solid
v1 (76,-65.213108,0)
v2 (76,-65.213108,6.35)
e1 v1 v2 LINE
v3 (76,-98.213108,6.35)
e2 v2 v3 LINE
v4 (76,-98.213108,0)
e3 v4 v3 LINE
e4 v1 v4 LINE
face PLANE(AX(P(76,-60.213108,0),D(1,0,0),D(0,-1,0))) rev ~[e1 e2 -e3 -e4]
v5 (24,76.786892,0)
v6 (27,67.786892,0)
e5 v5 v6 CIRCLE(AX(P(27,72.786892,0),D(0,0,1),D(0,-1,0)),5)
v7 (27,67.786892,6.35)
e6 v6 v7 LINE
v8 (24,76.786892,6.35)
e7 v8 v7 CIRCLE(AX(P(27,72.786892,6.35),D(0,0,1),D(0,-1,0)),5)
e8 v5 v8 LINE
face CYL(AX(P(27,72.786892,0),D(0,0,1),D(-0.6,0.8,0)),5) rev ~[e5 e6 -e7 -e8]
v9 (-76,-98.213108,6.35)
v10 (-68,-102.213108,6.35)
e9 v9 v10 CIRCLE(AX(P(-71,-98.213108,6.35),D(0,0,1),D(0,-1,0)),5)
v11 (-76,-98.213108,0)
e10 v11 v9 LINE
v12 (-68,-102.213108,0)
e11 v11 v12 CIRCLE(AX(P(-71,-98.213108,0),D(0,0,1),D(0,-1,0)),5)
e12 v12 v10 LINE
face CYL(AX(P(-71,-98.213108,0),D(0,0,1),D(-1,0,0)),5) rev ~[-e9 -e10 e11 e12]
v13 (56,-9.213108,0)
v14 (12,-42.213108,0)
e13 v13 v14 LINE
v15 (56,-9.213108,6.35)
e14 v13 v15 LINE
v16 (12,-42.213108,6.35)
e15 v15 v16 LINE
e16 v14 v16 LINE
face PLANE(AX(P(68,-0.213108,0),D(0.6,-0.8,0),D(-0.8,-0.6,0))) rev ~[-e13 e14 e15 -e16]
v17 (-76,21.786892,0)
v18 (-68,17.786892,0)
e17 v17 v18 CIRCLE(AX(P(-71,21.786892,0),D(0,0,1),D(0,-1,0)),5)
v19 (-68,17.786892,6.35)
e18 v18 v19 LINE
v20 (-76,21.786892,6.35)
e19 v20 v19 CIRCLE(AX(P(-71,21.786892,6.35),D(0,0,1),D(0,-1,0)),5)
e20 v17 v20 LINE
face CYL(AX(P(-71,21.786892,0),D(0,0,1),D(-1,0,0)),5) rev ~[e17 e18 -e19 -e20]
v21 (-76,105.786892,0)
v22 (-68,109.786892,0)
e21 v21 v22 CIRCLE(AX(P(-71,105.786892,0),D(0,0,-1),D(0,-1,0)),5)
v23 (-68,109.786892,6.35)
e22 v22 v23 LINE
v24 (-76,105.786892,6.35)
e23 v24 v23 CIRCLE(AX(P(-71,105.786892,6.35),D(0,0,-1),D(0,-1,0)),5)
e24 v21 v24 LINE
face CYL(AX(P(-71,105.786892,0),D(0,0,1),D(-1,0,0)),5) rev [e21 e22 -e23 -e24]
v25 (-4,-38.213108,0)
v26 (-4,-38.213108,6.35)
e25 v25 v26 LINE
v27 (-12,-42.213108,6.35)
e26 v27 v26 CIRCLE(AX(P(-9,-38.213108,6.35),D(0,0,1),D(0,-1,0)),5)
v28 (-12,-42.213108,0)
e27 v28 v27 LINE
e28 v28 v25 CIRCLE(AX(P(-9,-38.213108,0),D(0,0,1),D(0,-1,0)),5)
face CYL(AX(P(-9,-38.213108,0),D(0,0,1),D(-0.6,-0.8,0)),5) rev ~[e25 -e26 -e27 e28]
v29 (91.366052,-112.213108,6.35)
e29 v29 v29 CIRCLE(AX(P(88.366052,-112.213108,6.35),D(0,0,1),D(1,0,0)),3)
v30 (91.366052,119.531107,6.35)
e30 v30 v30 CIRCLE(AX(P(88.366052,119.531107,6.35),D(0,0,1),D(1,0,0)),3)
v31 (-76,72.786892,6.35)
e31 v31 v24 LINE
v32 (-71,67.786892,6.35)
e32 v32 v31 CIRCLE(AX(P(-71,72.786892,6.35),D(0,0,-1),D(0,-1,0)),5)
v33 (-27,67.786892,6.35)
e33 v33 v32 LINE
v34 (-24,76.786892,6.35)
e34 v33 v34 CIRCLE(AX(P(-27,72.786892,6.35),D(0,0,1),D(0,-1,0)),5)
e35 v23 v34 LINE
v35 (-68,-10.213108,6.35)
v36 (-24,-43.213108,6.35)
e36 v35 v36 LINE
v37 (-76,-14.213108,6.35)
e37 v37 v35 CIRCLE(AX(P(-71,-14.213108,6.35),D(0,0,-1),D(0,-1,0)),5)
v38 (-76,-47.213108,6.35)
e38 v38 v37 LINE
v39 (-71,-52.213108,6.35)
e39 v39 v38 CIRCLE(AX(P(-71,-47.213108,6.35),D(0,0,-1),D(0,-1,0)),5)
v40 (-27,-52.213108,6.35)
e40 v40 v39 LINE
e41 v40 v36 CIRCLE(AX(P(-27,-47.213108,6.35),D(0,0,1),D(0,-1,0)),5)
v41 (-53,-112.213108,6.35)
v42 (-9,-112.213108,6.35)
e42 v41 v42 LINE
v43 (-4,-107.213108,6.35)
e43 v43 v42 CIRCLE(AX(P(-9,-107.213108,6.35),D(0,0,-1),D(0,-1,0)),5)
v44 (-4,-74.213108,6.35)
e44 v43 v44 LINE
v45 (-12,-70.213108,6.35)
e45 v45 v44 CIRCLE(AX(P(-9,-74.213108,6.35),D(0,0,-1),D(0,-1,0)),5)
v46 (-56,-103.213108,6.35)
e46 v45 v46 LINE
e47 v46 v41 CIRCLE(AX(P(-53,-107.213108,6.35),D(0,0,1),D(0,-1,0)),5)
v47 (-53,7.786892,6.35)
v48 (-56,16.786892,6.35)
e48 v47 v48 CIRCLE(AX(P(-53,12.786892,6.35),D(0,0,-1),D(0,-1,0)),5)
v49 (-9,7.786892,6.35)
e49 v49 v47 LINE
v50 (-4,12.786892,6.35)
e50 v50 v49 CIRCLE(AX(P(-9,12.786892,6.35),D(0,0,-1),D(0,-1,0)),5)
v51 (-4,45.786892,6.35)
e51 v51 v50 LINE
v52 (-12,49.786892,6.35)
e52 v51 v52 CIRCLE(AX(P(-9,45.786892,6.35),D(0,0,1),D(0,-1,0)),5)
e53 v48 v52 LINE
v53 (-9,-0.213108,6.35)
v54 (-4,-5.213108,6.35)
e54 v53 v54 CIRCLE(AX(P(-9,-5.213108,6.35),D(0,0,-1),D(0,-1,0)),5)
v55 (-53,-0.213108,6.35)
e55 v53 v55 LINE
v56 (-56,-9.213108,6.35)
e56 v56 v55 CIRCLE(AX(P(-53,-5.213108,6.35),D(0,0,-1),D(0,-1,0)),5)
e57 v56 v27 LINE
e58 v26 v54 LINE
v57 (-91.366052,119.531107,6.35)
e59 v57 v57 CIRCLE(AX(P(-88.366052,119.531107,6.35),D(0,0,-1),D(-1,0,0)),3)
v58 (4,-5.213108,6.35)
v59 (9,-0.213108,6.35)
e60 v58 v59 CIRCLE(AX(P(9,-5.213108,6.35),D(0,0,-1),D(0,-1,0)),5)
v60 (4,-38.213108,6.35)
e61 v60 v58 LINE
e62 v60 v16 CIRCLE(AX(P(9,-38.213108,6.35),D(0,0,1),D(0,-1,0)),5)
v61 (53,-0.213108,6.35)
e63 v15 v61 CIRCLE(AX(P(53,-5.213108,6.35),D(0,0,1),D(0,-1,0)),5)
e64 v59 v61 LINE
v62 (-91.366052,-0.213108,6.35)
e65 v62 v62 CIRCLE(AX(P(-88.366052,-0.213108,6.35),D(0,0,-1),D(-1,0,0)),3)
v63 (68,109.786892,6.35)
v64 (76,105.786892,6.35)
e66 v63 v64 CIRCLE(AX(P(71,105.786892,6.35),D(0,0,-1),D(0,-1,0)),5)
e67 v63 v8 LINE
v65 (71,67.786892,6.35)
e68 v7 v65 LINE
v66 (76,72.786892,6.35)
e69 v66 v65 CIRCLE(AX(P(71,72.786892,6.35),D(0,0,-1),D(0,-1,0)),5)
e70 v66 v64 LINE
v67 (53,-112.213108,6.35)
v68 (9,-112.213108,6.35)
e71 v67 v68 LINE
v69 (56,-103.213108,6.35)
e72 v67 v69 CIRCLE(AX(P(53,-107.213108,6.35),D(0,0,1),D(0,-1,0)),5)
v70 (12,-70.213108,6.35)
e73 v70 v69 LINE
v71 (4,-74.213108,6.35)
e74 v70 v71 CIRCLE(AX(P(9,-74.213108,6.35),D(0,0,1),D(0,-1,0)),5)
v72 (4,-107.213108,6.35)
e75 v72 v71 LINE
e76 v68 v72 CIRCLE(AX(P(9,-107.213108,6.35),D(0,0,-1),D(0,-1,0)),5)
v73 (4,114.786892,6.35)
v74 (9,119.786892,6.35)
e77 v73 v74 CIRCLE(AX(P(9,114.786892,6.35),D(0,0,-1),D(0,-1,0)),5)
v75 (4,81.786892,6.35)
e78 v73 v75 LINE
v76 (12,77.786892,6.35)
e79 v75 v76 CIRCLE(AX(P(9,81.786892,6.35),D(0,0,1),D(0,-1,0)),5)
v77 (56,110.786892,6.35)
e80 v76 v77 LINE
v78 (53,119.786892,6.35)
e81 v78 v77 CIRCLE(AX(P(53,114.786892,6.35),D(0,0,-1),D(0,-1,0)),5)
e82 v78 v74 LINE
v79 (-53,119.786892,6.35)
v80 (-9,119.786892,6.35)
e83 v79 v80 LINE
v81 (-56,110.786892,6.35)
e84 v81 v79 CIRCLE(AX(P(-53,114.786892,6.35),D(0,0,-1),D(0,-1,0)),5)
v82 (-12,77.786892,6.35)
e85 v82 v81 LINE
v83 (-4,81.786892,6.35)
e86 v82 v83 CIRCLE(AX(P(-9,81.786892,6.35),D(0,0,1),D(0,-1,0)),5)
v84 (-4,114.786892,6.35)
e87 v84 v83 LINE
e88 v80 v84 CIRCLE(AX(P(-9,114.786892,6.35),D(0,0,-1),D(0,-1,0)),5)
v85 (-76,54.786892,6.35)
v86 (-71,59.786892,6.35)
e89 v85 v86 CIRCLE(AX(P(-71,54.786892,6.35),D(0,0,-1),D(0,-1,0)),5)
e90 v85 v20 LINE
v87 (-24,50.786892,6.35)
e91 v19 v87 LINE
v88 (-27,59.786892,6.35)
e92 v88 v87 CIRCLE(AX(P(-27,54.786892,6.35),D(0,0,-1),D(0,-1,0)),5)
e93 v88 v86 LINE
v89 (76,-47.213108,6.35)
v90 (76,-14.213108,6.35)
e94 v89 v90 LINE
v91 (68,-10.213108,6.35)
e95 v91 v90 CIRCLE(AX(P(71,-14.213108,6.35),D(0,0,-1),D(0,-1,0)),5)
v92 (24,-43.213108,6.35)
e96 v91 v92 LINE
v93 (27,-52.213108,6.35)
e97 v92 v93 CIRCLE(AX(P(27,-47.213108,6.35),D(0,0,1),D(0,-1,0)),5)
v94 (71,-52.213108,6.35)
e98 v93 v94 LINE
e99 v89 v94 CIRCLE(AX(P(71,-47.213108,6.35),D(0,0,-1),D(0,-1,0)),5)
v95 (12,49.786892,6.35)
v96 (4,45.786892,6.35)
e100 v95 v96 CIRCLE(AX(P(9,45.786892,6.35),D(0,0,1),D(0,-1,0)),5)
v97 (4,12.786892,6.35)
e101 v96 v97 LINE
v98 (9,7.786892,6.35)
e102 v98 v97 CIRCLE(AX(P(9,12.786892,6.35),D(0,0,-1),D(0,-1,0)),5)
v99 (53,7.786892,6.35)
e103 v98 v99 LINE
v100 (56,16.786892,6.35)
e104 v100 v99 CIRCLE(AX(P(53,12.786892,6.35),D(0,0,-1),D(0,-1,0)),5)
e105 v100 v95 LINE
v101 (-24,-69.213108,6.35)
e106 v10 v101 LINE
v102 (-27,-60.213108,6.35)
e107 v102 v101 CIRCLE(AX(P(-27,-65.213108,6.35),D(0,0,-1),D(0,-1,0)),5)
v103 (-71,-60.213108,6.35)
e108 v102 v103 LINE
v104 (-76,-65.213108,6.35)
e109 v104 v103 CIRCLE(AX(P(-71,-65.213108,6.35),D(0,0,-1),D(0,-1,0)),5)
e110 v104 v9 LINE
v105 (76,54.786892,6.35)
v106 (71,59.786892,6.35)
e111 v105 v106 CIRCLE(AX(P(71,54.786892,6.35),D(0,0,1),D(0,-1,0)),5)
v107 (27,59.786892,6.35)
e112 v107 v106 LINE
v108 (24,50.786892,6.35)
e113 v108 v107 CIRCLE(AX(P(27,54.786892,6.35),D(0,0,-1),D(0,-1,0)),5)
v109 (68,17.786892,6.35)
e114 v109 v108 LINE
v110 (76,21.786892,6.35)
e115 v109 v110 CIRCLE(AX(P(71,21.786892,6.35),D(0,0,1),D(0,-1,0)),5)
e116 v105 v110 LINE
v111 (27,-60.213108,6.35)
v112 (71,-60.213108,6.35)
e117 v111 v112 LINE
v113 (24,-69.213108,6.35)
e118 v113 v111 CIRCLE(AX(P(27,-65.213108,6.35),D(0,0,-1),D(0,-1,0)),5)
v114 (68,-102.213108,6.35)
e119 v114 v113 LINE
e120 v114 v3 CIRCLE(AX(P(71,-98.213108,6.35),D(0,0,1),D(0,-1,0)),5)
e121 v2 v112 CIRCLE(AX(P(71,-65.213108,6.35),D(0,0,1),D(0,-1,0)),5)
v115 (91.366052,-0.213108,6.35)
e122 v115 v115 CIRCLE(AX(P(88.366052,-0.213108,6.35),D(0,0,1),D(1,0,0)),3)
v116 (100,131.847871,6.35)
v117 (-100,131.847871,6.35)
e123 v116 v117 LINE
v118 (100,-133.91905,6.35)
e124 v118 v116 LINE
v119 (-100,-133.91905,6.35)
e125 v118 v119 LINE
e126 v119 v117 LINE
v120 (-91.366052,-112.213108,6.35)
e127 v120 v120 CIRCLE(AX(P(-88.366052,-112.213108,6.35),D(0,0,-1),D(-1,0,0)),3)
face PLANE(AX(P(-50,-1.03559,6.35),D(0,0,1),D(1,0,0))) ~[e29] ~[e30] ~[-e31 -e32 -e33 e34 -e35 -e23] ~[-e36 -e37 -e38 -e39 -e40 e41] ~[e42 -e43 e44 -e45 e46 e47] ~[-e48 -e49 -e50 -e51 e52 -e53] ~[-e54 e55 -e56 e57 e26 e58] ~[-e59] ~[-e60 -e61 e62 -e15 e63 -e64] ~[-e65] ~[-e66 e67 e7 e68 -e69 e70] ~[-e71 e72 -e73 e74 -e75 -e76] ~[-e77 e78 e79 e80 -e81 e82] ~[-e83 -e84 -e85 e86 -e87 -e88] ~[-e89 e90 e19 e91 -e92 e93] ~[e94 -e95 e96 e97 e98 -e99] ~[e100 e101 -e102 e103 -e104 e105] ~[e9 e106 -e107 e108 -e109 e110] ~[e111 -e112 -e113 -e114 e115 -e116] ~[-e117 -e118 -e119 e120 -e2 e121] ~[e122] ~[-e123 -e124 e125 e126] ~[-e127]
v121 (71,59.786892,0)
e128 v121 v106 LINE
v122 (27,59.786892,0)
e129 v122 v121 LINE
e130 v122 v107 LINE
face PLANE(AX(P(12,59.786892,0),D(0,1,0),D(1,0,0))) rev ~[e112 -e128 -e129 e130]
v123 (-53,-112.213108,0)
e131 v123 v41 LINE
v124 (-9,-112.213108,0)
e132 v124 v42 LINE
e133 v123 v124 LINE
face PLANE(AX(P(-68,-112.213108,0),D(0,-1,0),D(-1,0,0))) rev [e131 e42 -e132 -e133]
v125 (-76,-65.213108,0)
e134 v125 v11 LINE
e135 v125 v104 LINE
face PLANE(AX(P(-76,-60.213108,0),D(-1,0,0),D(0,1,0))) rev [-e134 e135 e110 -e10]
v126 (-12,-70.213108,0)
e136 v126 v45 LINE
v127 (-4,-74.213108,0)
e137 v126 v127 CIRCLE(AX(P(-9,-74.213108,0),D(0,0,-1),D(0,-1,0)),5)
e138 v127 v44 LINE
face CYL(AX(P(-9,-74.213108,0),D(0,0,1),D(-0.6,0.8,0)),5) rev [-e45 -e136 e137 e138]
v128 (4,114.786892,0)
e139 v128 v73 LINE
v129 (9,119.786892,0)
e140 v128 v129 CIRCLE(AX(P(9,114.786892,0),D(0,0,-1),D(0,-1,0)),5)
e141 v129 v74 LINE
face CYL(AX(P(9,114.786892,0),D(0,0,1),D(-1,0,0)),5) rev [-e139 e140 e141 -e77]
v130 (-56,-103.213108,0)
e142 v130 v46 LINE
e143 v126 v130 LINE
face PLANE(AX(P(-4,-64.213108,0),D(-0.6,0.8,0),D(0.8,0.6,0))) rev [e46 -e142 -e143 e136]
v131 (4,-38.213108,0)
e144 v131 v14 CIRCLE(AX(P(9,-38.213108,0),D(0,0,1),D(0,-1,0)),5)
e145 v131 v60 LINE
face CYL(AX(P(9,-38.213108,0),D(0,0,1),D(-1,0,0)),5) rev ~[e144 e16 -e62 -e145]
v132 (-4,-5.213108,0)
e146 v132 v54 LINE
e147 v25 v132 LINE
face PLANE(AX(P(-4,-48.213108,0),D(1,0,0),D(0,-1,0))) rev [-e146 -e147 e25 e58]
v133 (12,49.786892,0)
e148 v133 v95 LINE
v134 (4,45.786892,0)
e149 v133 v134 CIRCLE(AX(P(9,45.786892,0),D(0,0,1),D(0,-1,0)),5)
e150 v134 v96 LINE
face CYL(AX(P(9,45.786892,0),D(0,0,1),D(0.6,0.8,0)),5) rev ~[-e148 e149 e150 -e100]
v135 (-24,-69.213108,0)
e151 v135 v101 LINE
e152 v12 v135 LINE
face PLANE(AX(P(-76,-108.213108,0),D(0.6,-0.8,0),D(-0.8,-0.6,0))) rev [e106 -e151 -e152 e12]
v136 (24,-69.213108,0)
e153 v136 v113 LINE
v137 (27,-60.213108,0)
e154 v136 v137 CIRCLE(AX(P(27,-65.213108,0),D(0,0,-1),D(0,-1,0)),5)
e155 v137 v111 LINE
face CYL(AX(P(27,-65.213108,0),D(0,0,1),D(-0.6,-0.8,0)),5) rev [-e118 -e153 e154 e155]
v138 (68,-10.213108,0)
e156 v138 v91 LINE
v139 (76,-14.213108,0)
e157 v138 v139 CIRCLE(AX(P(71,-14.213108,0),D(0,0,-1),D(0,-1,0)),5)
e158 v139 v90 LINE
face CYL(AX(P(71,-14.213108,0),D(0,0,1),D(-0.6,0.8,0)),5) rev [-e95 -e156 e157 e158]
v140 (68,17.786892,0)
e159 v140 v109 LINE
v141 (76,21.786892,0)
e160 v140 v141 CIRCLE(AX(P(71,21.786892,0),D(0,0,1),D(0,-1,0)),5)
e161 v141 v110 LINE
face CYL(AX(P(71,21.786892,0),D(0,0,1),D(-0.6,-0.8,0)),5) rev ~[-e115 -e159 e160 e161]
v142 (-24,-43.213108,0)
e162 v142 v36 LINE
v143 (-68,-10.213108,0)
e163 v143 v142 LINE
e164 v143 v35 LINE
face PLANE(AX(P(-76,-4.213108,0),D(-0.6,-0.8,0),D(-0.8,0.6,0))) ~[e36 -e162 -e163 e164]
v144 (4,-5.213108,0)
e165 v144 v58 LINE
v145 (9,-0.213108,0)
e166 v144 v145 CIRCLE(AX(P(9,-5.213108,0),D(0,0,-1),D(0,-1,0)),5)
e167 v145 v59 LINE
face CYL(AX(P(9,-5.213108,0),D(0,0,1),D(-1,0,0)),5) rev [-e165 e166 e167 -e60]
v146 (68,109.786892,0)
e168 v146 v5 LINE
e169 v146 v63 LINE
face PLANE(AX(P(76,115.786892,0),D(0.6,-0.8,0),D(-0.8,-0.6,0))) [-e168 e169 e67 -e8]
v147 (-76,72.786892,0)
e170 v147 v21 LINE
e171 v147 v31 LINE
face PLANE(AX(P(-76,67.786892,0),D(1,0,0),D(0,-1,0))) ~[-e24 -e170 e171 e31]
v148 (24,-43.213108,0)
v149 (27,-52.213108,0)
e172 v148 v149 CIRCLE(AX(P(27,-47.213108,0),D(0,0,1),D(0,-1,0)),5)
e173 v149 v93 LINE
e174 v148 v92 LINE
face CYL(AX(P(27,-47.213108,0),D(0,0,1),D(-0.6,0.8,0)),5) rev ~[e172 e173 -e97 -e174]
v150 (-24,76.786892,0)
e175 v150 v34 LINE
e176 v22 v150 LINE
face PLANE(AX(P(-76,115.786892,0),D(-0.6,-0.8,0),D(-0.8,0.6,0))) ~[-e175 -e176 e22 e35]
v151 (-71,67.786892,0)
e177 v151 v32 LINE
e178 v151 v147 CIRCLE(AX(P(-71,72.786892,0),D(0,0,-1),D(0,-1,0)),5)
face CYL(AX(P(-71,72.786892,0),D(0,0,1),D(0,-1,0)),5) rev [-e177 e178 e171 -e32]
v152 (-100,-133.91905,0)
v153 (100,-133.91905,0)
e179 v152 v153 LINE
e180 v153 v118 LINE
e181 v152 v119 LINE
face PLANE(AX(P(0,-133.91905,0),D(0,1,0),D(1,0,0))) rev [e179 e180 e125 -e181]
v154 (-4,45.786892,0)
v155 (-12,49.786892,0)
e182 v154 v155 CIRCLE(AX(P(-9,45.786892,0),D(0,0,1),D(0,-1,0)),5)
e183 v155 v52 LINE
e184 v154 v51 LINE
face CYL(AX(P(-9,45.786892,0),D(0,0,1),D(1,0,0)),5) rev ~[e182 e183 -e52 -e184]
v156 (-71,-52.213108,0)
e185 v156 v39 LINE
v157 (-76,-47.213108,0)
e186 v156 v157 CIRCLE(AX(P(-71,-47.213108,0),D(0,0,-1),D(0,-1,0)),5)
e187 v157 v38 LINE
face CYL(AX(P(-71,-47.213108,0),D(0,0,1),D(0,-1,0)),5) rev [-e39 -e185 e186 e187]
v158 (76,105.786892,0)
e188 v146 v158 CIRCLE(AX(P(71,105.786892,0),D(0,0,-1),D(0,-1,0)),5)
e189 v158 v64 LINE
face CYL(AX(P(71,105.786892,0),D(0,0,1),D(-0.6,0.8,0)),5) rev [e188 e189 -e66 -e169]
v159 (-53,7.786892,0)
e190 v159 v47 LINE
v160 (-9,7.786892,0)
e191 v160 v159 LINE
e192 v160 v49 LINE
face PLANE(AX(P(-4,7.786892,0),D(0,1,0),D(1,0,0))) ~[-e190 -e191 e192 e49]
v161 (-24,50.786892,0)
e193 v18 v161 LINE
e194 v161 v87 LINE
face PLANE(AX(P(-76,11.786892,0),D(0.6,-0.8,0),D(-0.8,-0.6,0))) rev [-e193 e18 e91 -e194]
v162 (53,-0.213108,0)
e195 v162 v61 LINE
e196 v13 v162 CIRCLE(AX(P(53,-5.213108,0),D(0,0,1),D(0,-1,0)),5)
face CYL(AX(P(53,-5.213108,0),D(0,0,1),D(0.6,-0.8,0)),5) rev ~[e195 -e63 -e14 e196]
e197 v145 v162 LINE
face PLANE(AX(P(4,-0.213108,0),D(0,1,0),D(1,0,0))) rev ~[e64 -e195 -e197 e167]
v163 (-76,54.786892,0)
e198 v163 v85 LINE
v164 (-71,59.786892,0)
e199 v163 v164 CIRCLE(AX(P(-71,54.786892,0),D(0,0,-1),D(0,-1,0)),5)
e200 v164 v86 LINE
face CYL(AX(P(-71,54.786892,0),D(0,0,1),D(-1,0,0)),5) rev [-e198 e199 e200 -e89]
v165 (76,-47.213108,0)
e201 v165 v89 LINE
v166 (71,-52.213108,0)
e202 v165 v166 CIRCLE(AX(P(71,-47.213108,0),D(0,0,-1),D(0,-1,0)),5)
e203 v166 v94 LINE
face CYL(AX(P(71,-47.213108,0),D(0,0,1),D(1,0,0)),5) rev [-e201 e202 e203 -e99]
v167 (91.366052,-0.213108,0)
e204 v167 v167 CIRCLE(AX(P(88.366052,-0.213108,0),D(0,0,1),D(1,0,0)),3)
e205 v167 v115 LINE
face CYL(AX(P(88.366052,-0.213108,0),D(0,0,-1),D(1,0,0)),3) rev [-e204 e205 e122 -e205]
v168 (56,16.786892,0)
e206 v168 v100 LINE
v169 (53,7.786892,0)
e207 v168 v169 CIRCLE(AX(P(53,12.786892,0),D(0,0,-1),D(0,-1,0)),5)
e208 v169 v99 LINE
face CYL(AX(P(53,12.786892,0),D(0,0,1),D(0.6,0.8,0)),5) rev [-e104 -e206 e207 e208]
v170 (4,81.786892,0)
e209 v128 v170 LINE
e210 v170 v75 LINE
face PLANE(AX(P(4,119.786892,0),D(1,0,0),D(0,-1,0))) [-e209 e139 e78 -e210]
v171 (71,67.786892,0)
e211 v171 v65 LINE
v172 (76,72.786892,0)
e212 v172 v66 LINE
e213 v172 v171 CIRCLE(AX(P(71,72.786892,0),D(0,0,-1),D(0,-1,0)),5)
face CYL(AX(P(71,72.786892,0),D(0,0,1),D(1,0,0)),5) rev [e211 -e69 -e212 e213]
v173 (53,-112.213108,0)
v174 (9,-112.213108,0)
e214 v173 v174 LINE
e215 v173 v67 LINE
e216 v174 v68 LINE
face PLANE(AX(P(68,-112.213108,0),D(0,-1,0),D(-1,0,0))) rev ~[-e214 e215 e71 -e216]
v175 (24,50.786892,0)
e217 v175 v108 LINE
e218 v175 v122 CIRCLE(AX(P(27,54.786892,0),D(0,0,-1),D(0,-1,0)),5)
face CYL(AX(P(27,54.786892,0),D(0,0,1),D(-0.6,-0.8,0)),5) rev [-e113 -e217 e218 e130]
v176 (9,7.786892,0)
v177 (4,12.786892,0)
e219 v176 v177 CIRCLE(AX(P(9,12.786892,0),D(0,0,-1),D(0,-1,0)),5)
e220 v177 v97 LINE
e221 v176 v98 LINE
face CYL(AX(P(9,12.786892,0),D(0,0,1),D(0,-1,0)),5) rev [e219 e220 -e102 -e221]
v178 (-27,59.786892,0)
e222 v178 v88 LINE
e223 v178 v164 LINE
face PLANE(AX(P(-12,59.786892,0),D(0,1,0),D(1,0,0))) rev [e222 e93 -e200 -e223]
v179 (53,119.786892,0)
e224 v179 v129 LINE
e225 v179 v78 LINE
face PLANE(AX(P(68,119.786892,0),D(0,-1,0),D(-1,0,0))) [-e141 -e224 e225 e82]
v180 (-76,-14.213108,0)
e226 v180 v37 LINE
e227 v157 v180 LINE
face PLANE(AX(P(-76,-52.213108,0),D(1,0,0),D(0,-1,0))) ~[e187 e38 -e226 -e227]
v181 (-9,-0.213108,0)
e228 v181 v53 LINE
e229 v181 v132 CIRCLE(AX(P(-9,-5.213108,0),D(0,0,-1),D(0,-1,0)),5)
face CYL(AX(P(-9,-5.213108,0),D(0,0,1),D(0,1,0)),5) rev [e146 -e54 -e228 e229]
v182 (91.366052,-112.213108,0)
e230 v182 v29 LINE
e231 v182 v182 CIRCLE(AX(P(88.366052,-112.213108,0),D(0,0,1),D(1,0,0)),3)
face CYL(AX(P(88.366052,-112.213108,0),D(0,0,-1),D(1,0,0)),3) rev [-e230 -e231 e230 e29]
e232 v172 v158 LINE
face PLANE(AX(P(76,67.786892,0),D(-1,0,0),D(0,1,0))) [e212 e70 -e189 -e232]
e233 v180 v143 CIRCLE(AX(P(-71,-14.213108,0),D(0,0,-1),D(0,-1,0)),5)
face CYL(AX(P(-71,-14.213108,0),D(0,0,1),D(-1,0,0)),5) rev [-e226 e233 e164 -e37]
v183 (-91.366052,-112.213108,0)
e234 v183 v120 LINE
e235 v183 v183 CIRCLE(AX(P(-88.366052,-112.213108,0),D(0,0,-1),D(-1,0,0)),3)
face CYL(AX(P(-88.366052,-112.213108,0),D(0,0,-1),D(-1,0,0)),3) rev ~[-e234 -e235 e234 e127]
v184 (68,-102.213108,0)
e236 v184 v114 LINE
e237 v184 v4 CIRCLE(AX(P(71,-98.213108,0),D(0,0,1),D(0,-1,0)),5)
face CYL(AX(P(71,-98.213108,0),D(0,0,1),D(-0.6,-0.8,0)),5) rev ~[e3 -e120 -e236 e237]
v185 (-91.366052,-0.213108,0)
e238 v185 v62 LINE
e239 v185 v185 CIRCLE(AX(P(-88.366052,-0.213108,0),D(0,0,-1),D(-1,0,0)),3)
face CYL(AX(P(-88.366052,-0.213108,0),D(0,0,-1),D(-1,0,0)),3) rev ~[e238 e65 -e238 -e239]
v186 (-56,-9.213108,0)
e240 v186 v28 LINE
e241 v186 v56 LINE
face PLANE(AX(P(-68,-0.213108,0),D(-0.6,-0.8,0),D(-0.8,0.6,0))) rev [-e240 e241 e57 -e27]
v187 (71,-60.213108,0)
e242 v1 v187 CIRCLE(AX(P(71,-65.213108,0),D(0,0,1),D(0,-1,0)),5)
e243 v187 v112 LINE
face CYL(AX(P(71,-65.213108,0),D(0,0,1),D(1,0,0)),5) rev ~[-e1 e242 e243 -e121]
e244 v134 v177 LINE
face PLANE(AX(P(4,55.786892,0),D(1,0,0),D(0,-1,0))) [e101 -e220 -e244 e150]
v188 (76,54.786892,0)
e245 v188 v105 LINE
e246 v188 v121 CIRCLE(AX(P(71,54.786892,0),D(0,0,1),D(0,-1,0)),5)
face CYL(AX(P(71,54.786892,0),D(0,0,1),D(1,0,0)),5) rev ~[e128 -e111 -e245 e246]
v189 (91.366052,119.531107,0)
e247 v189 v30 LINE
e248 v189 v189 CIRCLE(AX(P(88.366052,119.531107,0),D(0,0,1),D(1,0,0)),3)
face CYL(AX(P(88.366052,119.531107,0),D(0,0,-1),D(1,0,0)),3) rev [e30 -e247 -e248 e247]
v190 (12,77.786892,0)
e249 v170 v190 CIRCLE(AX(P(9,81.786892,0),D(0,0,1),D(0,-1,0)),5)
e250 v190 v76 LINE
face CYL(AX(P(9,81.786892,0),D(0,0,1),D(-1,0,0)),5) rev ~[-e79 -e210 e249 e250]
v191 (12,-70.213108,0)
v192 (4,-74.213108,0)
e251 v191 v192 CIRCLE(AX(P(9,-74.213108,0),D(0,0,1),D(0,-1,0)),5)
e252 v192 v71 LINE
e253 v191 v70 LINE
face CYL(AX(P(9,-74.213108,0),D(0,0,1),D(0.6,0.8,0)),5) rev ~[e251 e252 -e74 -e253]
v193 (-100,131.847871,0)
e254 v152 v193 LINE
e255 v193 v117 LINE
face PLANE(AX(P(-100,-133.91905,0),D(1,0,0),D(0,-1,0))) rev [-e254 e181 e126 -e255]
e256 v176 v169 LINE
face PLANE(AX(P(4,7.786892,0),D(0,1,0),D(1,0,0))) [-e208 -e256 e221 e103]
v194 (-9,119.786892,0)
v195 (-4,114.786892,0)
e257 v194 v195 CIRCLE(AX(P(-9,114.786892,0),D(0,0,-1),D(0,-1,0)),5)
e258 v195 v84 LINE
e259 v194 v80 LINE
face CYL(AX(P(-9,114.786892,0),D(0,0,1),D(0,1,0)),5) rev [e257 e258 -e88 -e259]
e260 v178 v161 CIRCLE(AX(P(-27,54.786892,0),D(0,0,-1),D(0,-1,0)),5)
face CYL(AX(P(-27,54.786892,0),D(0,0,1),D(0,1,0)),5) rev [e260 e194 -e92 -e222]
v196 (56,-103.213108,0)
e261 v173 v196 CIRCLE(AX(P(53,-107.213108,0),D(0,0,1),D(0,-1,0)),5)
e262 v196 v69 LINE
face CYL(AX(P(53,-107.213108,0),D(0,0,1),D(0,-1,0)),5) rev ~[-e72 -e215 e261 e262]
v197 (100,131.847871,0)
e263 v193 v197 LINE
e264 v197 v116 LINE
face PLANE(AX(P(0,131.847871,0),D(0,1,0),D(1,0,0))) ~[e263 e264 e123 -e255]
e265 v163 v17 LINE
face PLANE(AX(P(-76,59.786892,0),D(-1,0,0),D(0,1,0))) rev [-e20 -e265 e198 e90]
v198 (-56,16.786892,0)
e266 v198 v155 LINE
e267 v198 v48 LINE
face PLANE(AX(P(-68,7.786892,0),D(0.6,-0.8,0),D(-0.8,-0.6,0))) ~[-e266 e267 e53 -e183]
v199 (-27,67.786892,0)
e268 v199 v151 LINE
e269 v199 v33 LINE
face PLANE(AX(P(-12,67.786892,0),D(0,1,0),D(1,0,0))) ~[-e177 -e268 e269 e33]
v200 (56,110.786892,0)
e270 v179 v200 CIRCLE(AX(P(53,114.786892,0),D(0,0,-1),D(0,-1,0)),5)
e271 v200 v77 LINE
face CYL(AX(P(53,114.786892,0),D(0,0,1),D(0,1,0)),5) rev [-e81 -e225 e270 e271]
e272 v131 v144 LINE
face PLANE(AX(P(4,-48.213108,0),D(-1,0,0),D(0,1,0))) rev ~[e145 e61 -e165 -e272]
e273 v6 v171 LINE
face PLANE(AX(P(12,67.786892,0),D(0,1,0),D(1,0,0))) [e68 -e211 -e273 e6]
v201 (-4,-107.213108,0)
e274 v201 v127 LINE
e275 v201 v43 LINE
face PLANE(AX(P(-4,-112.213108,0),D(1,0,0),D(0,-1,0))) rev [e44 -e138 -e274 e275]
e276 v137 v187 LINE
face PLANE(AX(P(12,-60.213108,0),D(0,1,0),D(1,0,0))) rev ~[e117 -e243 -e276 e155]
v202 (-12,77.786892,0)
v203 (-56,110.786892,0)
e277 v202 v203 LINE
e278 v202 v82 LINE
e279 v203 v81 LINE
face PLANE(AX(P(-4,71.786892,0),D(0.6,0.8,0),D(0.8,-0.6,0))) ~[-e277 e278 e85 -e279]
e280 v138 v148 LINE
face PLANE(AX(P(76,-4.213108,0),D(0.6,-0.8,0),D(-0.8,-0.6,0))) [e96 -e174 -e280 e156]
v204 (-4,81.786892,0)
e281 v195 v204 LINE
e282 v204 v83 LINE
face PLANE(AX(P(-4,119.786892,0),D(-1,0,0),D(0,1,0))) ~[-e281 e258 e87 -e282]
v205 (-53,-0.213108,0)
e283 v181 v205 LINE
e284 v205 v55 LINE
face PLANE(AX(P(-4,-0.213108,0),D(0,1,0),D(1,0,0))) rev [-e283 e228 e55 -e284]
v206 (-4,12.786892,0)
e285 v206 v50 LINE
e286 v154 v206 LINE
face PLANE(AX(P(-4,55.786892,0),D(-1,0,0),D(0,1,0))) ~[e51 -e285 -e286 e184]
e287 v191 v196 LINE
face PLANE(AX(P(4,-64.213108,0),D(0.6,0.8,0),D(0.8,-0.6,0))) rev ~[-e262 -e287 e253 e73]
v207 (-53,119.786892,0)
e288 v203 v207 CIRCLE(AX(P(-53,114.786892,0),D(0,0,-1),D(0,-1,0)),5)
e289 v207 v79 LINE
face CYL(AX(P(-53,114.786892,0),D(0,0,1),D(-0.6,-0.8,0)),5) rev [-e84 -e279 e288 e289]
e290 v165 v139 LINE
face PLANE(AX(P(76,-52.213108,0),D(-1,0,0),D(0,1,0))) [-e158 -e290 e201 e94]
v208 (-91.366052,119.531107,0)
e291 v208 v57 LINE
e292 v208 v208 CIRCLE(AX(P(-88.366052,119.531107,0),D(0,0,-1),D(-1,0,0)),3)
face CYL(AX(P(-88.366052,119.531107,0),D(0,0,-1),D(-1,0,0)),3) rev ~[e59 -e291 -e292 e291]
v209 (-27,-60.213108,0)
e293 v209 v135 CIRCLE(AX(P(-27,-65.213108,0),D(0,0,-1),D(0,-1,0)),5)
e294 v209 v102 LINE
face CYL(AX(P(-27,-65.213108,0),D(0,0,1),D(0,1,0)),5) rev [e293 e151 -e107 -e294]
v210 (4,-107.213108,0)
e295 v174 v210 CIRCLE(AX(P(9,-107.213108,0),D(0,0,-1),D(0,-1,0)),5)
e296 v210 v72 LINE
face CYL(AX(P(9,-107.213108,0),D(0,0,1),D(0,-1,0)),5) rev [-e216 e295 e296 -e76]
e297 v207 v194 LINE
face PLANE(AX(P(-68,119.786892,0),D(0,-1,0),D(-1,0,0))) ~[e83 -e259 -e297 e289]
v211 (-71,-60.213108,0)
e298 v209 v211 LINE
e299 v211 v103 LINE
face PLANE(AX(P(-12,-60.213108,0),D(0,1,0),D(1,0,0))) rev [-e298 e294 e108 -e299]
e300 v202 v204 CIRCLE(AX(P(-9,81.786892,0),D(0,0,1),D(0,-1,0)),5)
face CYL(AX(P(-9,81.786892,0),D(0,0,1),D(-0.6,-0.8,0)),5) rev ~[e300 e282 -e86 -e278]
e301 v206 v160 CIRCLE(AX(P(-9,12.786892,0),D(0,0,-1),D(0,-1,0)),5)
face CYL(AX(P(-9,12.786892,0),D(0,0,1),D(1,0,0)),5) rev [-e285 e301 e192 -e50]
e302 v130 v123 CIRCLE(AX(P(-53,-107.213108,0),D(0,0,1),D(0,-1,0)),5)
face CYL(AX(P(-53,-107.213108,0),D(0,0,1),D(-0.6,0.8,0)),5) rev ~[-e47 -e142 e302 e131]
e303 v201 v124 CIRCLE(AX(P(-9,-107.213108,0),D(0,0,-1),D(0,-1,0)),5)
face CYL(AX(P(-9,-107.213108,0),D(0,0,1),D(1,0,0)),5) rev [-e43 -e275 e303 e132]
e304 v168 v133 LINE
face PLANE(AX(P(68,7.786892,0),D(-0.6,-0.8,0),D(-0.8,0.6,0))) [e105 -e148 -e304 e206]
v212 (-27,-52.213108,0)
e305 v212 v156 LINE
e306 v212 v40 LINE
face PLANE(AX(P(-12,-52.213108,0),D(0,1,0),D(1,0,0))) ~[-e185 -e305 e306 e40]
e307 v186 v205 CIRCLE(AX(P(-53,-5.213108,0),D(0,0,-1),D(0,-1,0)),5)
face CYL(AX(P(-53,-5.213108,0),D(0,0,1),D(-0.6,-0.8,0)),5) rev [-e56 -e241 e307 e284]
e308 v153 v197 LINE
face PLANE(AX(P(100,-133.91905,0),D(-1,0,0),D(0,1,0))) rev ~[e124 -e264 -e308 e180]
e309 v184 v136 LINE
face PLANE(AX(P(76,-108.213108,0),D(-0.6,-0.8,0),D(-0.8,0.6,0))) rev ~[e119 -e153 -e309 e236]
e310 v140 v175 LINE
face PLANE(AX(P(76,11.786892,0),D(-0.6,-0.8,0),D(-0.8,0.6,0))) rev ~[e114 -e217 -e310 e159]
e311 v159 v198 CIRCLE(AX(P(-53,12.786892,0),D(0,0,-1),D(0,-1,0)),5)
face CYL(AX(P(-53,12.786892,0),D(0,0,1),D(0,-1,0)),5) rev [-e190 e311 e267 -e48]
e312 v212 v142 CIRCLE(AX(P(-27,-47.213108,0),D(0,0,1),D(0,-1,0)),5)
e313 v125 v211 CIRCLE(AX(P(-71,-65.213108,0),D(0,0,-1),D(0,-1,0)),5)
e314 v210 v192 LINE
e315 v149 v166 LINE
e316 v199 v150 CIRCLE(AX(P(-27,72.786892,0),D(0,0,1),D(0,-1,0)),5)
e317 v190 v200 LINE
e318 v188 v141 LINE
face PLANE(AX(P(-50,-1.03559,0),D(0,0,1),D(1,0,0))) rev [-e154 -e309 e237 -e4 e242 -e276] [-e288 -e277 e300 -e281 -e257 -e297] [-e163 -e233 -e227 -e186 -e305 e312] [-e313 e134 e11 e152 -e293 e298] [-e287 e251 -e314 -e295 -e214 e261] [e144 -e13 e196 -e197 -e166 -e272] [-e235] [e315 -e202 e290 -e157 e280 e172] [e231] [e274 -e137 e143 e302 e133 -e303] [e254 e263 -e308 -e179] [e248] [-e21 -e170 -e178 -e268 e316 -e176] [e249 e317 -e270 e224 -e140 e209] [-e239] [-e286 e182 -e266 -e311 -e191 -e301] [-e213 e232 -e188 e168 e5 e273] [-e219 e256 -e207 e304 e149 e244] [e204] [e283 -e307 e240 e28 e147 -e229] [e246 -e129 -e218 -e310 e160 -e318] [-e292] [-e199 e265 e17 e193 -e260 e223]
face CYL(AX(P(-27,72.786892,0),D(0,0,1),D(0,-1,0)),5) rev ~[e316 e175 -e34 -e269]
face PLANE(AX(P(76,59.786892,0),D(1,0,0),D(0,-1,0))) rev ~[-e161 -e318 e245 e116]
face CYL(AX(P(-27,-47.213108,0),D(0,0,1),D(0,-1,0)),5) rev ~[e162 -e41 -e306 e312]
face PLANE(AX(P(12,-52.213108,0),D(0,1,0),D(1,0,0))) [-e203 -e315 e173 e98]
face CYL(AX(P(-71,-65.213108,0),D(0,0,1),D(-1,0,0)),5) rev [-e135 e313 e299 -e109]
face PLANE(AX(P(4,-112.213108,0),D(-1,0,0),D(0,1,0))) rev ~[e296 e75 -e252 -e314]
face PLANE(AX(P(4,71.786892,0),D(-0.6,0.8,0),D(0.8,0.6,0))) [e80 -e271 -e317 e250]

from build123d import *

# Parameters (mm, degrees)
SKETCH1_W                   = 100
SKETCH1_H                   = 265.76692074
SKETCH1_R                   = 3
BOSS_EXTRUDE2_DEPTH         = 6.35
CUTOUT_FILLETS_R            = 5
CUTOUT_FILLETS_OF_MIRROR2_R = 5


with BuildPart() as part:
    # Sketch1 → Boss-Extrude2 (new body)
    with BuildSketch(Plane.XY):
        with Locations((50, -1.035589772)):
            Rectangle(SKETCH1_W, SKETCH1_H)
        with Locations((88.366051518, 119.531107423)):
            Circle(SKETCH1_R, mode=Mode.SUBTRACT)
        with Locations((88.366051518, -0.213108197)):
            Circle(SKETCH1_R, mode=Mode.SUBTRACT)
        with Locations((88.366051518, -112.213108197)):
            Circle(SKETCH1_R, mode=Mode.SUBTRACT)
        Polygon((4, 119.786891803), (4, 71.786891803), (68, 119.786891803), align=None, mode=Mode.SUBTRACT)
        Polygon((76, 115.786891803), (12, 67.786891803), (76, 67.786891803), align=None, mode=Mode.SUBTRACT)
        Polygon((12, 59.786891803), (76, 59.786891803), (76, 11.786891803), align=None, mode=Mode.SUBTRACT)
        Polygon((68, 7.786891803), (4, 55.786891803), (4, 7.786891803), align=None, mode=Mode.SUBTRACT)
        Polygon((4, -0.213108197), (68, -0.213108197), (4, -48.213108197), align=None, mode=Mode.SUBTRACT)
        Polygon((76, -4.213108197), (12, -52.213108197), (76, -52.213108197), align=None, mode=Mode.SUBTRACT)
        Polygon((12, -60.213108197), (76, -60.213108197), (76, -108.213108197), align=None, mode=Mode.SUBTRACT)
        Polygon((4, -112.213108197), (4, -64.213108197), (68, -112.213108197), align=None, mode=Mode.SUBTRACT)
    boss_extrude2 = extrude(amount=BOSS_EXTRUDE2_DEPTH)

    # Cutout_Fillets
    cutout_fillets_edges = [part.edges().sort_by_distance(p)[0] for p in [
        (68, 119.786891803, 3.175),
        (4, 119.786891803, 3.175),
        (4, 71.786891803, 3.175),
        (76, 67.786891803, 3.175),
        (76, 115.786891803, 3.175),
        (12, 67.786891803, 3.175),
        (12, 59.786891803, 3.175),
        (76, 11.786891803, 3.175),
        (76, 59.786891803, 3.175),
        (4, 7.786891803, 3.175),
        (68, 7.786891803, 3.175),
        (4, 55.786891803, 3.175),
        (4, -0.213108197, 3.175),
        (4, -48.213108197, 3.175),
        (68, -0.213108197, 3.175),
        (76, -52.213108197, 3.175),
        (76, -4.213108197, 3.175),
        (12, -52.213108197, 3.175),
        (12, -60.213108197, 3.175),
        (76, -108.213108197, 3.175),
        (76, -60.213108197, 3.175),
        (4, -112.213108197, 3.175),
        (68, -112.213108197, 3.175),
        (4, -64.213108197, 3.175),
    ]]
    fillet(cutout_fillets_edges, radius=CUTOUT_FILLETS_R)

    # Mirror2: Boss-Extrude2 across plane
    add(boss_extrude2.mirror(Plane(origin=(0, 131.847870598, 6.35), x_dir=(0, 0, 1), z_dir=(1, 0, 0))))

    # Cutout_Fillets of Mirror2
    cutout_fillets_of_mirror2_edges = [part.edges().sort_by_distance(p)[0] for p in [
        (-68, 119.786891803, 3.175),
        (-4, 119.786891803, 3.175),
        (-4, 71.786891803, 3.175),
        (-76, 67.786891803, 3.175),
        (-76, 115.786891803, 3.175),
        (-12, 67.786891803, 3.175),
        (-12, 59.786891803, 3.175),
        (-76, 11.786891803, 3.175),
        (-76, 59.786891803, 3.175),
        (-4, 7.786891803, 3.175),
        (-68, 7.786891803, 3.175),
        (-4, 55.786891803, 3.175),
        (-4, -0.213108197, 3.175),
        (-4, -48.213108197, 3.175),
        (-68, -0.213108197, 3.175),
        (-76, -52.213108197, 3.175),
        (-76, -4.213108197, 3.175),
        (-12, -52.213108197, 3.175),
        (-12, -60.213108197, 3.175),
        (-76, -108.213108197, 3.175),
        (-76, -60.213108197, 3.175),
        (-4, -112.213108197, 3.175),
        (-68, -112.213108197, 3.175),
        (-4, -64.213108197, 3.175),
    ]]
    fillet(cutout_fillets_of_mirror2_edges, radius=CUTOUT_FILLETS_OF_MIRROR2_R)


solid = part.part
